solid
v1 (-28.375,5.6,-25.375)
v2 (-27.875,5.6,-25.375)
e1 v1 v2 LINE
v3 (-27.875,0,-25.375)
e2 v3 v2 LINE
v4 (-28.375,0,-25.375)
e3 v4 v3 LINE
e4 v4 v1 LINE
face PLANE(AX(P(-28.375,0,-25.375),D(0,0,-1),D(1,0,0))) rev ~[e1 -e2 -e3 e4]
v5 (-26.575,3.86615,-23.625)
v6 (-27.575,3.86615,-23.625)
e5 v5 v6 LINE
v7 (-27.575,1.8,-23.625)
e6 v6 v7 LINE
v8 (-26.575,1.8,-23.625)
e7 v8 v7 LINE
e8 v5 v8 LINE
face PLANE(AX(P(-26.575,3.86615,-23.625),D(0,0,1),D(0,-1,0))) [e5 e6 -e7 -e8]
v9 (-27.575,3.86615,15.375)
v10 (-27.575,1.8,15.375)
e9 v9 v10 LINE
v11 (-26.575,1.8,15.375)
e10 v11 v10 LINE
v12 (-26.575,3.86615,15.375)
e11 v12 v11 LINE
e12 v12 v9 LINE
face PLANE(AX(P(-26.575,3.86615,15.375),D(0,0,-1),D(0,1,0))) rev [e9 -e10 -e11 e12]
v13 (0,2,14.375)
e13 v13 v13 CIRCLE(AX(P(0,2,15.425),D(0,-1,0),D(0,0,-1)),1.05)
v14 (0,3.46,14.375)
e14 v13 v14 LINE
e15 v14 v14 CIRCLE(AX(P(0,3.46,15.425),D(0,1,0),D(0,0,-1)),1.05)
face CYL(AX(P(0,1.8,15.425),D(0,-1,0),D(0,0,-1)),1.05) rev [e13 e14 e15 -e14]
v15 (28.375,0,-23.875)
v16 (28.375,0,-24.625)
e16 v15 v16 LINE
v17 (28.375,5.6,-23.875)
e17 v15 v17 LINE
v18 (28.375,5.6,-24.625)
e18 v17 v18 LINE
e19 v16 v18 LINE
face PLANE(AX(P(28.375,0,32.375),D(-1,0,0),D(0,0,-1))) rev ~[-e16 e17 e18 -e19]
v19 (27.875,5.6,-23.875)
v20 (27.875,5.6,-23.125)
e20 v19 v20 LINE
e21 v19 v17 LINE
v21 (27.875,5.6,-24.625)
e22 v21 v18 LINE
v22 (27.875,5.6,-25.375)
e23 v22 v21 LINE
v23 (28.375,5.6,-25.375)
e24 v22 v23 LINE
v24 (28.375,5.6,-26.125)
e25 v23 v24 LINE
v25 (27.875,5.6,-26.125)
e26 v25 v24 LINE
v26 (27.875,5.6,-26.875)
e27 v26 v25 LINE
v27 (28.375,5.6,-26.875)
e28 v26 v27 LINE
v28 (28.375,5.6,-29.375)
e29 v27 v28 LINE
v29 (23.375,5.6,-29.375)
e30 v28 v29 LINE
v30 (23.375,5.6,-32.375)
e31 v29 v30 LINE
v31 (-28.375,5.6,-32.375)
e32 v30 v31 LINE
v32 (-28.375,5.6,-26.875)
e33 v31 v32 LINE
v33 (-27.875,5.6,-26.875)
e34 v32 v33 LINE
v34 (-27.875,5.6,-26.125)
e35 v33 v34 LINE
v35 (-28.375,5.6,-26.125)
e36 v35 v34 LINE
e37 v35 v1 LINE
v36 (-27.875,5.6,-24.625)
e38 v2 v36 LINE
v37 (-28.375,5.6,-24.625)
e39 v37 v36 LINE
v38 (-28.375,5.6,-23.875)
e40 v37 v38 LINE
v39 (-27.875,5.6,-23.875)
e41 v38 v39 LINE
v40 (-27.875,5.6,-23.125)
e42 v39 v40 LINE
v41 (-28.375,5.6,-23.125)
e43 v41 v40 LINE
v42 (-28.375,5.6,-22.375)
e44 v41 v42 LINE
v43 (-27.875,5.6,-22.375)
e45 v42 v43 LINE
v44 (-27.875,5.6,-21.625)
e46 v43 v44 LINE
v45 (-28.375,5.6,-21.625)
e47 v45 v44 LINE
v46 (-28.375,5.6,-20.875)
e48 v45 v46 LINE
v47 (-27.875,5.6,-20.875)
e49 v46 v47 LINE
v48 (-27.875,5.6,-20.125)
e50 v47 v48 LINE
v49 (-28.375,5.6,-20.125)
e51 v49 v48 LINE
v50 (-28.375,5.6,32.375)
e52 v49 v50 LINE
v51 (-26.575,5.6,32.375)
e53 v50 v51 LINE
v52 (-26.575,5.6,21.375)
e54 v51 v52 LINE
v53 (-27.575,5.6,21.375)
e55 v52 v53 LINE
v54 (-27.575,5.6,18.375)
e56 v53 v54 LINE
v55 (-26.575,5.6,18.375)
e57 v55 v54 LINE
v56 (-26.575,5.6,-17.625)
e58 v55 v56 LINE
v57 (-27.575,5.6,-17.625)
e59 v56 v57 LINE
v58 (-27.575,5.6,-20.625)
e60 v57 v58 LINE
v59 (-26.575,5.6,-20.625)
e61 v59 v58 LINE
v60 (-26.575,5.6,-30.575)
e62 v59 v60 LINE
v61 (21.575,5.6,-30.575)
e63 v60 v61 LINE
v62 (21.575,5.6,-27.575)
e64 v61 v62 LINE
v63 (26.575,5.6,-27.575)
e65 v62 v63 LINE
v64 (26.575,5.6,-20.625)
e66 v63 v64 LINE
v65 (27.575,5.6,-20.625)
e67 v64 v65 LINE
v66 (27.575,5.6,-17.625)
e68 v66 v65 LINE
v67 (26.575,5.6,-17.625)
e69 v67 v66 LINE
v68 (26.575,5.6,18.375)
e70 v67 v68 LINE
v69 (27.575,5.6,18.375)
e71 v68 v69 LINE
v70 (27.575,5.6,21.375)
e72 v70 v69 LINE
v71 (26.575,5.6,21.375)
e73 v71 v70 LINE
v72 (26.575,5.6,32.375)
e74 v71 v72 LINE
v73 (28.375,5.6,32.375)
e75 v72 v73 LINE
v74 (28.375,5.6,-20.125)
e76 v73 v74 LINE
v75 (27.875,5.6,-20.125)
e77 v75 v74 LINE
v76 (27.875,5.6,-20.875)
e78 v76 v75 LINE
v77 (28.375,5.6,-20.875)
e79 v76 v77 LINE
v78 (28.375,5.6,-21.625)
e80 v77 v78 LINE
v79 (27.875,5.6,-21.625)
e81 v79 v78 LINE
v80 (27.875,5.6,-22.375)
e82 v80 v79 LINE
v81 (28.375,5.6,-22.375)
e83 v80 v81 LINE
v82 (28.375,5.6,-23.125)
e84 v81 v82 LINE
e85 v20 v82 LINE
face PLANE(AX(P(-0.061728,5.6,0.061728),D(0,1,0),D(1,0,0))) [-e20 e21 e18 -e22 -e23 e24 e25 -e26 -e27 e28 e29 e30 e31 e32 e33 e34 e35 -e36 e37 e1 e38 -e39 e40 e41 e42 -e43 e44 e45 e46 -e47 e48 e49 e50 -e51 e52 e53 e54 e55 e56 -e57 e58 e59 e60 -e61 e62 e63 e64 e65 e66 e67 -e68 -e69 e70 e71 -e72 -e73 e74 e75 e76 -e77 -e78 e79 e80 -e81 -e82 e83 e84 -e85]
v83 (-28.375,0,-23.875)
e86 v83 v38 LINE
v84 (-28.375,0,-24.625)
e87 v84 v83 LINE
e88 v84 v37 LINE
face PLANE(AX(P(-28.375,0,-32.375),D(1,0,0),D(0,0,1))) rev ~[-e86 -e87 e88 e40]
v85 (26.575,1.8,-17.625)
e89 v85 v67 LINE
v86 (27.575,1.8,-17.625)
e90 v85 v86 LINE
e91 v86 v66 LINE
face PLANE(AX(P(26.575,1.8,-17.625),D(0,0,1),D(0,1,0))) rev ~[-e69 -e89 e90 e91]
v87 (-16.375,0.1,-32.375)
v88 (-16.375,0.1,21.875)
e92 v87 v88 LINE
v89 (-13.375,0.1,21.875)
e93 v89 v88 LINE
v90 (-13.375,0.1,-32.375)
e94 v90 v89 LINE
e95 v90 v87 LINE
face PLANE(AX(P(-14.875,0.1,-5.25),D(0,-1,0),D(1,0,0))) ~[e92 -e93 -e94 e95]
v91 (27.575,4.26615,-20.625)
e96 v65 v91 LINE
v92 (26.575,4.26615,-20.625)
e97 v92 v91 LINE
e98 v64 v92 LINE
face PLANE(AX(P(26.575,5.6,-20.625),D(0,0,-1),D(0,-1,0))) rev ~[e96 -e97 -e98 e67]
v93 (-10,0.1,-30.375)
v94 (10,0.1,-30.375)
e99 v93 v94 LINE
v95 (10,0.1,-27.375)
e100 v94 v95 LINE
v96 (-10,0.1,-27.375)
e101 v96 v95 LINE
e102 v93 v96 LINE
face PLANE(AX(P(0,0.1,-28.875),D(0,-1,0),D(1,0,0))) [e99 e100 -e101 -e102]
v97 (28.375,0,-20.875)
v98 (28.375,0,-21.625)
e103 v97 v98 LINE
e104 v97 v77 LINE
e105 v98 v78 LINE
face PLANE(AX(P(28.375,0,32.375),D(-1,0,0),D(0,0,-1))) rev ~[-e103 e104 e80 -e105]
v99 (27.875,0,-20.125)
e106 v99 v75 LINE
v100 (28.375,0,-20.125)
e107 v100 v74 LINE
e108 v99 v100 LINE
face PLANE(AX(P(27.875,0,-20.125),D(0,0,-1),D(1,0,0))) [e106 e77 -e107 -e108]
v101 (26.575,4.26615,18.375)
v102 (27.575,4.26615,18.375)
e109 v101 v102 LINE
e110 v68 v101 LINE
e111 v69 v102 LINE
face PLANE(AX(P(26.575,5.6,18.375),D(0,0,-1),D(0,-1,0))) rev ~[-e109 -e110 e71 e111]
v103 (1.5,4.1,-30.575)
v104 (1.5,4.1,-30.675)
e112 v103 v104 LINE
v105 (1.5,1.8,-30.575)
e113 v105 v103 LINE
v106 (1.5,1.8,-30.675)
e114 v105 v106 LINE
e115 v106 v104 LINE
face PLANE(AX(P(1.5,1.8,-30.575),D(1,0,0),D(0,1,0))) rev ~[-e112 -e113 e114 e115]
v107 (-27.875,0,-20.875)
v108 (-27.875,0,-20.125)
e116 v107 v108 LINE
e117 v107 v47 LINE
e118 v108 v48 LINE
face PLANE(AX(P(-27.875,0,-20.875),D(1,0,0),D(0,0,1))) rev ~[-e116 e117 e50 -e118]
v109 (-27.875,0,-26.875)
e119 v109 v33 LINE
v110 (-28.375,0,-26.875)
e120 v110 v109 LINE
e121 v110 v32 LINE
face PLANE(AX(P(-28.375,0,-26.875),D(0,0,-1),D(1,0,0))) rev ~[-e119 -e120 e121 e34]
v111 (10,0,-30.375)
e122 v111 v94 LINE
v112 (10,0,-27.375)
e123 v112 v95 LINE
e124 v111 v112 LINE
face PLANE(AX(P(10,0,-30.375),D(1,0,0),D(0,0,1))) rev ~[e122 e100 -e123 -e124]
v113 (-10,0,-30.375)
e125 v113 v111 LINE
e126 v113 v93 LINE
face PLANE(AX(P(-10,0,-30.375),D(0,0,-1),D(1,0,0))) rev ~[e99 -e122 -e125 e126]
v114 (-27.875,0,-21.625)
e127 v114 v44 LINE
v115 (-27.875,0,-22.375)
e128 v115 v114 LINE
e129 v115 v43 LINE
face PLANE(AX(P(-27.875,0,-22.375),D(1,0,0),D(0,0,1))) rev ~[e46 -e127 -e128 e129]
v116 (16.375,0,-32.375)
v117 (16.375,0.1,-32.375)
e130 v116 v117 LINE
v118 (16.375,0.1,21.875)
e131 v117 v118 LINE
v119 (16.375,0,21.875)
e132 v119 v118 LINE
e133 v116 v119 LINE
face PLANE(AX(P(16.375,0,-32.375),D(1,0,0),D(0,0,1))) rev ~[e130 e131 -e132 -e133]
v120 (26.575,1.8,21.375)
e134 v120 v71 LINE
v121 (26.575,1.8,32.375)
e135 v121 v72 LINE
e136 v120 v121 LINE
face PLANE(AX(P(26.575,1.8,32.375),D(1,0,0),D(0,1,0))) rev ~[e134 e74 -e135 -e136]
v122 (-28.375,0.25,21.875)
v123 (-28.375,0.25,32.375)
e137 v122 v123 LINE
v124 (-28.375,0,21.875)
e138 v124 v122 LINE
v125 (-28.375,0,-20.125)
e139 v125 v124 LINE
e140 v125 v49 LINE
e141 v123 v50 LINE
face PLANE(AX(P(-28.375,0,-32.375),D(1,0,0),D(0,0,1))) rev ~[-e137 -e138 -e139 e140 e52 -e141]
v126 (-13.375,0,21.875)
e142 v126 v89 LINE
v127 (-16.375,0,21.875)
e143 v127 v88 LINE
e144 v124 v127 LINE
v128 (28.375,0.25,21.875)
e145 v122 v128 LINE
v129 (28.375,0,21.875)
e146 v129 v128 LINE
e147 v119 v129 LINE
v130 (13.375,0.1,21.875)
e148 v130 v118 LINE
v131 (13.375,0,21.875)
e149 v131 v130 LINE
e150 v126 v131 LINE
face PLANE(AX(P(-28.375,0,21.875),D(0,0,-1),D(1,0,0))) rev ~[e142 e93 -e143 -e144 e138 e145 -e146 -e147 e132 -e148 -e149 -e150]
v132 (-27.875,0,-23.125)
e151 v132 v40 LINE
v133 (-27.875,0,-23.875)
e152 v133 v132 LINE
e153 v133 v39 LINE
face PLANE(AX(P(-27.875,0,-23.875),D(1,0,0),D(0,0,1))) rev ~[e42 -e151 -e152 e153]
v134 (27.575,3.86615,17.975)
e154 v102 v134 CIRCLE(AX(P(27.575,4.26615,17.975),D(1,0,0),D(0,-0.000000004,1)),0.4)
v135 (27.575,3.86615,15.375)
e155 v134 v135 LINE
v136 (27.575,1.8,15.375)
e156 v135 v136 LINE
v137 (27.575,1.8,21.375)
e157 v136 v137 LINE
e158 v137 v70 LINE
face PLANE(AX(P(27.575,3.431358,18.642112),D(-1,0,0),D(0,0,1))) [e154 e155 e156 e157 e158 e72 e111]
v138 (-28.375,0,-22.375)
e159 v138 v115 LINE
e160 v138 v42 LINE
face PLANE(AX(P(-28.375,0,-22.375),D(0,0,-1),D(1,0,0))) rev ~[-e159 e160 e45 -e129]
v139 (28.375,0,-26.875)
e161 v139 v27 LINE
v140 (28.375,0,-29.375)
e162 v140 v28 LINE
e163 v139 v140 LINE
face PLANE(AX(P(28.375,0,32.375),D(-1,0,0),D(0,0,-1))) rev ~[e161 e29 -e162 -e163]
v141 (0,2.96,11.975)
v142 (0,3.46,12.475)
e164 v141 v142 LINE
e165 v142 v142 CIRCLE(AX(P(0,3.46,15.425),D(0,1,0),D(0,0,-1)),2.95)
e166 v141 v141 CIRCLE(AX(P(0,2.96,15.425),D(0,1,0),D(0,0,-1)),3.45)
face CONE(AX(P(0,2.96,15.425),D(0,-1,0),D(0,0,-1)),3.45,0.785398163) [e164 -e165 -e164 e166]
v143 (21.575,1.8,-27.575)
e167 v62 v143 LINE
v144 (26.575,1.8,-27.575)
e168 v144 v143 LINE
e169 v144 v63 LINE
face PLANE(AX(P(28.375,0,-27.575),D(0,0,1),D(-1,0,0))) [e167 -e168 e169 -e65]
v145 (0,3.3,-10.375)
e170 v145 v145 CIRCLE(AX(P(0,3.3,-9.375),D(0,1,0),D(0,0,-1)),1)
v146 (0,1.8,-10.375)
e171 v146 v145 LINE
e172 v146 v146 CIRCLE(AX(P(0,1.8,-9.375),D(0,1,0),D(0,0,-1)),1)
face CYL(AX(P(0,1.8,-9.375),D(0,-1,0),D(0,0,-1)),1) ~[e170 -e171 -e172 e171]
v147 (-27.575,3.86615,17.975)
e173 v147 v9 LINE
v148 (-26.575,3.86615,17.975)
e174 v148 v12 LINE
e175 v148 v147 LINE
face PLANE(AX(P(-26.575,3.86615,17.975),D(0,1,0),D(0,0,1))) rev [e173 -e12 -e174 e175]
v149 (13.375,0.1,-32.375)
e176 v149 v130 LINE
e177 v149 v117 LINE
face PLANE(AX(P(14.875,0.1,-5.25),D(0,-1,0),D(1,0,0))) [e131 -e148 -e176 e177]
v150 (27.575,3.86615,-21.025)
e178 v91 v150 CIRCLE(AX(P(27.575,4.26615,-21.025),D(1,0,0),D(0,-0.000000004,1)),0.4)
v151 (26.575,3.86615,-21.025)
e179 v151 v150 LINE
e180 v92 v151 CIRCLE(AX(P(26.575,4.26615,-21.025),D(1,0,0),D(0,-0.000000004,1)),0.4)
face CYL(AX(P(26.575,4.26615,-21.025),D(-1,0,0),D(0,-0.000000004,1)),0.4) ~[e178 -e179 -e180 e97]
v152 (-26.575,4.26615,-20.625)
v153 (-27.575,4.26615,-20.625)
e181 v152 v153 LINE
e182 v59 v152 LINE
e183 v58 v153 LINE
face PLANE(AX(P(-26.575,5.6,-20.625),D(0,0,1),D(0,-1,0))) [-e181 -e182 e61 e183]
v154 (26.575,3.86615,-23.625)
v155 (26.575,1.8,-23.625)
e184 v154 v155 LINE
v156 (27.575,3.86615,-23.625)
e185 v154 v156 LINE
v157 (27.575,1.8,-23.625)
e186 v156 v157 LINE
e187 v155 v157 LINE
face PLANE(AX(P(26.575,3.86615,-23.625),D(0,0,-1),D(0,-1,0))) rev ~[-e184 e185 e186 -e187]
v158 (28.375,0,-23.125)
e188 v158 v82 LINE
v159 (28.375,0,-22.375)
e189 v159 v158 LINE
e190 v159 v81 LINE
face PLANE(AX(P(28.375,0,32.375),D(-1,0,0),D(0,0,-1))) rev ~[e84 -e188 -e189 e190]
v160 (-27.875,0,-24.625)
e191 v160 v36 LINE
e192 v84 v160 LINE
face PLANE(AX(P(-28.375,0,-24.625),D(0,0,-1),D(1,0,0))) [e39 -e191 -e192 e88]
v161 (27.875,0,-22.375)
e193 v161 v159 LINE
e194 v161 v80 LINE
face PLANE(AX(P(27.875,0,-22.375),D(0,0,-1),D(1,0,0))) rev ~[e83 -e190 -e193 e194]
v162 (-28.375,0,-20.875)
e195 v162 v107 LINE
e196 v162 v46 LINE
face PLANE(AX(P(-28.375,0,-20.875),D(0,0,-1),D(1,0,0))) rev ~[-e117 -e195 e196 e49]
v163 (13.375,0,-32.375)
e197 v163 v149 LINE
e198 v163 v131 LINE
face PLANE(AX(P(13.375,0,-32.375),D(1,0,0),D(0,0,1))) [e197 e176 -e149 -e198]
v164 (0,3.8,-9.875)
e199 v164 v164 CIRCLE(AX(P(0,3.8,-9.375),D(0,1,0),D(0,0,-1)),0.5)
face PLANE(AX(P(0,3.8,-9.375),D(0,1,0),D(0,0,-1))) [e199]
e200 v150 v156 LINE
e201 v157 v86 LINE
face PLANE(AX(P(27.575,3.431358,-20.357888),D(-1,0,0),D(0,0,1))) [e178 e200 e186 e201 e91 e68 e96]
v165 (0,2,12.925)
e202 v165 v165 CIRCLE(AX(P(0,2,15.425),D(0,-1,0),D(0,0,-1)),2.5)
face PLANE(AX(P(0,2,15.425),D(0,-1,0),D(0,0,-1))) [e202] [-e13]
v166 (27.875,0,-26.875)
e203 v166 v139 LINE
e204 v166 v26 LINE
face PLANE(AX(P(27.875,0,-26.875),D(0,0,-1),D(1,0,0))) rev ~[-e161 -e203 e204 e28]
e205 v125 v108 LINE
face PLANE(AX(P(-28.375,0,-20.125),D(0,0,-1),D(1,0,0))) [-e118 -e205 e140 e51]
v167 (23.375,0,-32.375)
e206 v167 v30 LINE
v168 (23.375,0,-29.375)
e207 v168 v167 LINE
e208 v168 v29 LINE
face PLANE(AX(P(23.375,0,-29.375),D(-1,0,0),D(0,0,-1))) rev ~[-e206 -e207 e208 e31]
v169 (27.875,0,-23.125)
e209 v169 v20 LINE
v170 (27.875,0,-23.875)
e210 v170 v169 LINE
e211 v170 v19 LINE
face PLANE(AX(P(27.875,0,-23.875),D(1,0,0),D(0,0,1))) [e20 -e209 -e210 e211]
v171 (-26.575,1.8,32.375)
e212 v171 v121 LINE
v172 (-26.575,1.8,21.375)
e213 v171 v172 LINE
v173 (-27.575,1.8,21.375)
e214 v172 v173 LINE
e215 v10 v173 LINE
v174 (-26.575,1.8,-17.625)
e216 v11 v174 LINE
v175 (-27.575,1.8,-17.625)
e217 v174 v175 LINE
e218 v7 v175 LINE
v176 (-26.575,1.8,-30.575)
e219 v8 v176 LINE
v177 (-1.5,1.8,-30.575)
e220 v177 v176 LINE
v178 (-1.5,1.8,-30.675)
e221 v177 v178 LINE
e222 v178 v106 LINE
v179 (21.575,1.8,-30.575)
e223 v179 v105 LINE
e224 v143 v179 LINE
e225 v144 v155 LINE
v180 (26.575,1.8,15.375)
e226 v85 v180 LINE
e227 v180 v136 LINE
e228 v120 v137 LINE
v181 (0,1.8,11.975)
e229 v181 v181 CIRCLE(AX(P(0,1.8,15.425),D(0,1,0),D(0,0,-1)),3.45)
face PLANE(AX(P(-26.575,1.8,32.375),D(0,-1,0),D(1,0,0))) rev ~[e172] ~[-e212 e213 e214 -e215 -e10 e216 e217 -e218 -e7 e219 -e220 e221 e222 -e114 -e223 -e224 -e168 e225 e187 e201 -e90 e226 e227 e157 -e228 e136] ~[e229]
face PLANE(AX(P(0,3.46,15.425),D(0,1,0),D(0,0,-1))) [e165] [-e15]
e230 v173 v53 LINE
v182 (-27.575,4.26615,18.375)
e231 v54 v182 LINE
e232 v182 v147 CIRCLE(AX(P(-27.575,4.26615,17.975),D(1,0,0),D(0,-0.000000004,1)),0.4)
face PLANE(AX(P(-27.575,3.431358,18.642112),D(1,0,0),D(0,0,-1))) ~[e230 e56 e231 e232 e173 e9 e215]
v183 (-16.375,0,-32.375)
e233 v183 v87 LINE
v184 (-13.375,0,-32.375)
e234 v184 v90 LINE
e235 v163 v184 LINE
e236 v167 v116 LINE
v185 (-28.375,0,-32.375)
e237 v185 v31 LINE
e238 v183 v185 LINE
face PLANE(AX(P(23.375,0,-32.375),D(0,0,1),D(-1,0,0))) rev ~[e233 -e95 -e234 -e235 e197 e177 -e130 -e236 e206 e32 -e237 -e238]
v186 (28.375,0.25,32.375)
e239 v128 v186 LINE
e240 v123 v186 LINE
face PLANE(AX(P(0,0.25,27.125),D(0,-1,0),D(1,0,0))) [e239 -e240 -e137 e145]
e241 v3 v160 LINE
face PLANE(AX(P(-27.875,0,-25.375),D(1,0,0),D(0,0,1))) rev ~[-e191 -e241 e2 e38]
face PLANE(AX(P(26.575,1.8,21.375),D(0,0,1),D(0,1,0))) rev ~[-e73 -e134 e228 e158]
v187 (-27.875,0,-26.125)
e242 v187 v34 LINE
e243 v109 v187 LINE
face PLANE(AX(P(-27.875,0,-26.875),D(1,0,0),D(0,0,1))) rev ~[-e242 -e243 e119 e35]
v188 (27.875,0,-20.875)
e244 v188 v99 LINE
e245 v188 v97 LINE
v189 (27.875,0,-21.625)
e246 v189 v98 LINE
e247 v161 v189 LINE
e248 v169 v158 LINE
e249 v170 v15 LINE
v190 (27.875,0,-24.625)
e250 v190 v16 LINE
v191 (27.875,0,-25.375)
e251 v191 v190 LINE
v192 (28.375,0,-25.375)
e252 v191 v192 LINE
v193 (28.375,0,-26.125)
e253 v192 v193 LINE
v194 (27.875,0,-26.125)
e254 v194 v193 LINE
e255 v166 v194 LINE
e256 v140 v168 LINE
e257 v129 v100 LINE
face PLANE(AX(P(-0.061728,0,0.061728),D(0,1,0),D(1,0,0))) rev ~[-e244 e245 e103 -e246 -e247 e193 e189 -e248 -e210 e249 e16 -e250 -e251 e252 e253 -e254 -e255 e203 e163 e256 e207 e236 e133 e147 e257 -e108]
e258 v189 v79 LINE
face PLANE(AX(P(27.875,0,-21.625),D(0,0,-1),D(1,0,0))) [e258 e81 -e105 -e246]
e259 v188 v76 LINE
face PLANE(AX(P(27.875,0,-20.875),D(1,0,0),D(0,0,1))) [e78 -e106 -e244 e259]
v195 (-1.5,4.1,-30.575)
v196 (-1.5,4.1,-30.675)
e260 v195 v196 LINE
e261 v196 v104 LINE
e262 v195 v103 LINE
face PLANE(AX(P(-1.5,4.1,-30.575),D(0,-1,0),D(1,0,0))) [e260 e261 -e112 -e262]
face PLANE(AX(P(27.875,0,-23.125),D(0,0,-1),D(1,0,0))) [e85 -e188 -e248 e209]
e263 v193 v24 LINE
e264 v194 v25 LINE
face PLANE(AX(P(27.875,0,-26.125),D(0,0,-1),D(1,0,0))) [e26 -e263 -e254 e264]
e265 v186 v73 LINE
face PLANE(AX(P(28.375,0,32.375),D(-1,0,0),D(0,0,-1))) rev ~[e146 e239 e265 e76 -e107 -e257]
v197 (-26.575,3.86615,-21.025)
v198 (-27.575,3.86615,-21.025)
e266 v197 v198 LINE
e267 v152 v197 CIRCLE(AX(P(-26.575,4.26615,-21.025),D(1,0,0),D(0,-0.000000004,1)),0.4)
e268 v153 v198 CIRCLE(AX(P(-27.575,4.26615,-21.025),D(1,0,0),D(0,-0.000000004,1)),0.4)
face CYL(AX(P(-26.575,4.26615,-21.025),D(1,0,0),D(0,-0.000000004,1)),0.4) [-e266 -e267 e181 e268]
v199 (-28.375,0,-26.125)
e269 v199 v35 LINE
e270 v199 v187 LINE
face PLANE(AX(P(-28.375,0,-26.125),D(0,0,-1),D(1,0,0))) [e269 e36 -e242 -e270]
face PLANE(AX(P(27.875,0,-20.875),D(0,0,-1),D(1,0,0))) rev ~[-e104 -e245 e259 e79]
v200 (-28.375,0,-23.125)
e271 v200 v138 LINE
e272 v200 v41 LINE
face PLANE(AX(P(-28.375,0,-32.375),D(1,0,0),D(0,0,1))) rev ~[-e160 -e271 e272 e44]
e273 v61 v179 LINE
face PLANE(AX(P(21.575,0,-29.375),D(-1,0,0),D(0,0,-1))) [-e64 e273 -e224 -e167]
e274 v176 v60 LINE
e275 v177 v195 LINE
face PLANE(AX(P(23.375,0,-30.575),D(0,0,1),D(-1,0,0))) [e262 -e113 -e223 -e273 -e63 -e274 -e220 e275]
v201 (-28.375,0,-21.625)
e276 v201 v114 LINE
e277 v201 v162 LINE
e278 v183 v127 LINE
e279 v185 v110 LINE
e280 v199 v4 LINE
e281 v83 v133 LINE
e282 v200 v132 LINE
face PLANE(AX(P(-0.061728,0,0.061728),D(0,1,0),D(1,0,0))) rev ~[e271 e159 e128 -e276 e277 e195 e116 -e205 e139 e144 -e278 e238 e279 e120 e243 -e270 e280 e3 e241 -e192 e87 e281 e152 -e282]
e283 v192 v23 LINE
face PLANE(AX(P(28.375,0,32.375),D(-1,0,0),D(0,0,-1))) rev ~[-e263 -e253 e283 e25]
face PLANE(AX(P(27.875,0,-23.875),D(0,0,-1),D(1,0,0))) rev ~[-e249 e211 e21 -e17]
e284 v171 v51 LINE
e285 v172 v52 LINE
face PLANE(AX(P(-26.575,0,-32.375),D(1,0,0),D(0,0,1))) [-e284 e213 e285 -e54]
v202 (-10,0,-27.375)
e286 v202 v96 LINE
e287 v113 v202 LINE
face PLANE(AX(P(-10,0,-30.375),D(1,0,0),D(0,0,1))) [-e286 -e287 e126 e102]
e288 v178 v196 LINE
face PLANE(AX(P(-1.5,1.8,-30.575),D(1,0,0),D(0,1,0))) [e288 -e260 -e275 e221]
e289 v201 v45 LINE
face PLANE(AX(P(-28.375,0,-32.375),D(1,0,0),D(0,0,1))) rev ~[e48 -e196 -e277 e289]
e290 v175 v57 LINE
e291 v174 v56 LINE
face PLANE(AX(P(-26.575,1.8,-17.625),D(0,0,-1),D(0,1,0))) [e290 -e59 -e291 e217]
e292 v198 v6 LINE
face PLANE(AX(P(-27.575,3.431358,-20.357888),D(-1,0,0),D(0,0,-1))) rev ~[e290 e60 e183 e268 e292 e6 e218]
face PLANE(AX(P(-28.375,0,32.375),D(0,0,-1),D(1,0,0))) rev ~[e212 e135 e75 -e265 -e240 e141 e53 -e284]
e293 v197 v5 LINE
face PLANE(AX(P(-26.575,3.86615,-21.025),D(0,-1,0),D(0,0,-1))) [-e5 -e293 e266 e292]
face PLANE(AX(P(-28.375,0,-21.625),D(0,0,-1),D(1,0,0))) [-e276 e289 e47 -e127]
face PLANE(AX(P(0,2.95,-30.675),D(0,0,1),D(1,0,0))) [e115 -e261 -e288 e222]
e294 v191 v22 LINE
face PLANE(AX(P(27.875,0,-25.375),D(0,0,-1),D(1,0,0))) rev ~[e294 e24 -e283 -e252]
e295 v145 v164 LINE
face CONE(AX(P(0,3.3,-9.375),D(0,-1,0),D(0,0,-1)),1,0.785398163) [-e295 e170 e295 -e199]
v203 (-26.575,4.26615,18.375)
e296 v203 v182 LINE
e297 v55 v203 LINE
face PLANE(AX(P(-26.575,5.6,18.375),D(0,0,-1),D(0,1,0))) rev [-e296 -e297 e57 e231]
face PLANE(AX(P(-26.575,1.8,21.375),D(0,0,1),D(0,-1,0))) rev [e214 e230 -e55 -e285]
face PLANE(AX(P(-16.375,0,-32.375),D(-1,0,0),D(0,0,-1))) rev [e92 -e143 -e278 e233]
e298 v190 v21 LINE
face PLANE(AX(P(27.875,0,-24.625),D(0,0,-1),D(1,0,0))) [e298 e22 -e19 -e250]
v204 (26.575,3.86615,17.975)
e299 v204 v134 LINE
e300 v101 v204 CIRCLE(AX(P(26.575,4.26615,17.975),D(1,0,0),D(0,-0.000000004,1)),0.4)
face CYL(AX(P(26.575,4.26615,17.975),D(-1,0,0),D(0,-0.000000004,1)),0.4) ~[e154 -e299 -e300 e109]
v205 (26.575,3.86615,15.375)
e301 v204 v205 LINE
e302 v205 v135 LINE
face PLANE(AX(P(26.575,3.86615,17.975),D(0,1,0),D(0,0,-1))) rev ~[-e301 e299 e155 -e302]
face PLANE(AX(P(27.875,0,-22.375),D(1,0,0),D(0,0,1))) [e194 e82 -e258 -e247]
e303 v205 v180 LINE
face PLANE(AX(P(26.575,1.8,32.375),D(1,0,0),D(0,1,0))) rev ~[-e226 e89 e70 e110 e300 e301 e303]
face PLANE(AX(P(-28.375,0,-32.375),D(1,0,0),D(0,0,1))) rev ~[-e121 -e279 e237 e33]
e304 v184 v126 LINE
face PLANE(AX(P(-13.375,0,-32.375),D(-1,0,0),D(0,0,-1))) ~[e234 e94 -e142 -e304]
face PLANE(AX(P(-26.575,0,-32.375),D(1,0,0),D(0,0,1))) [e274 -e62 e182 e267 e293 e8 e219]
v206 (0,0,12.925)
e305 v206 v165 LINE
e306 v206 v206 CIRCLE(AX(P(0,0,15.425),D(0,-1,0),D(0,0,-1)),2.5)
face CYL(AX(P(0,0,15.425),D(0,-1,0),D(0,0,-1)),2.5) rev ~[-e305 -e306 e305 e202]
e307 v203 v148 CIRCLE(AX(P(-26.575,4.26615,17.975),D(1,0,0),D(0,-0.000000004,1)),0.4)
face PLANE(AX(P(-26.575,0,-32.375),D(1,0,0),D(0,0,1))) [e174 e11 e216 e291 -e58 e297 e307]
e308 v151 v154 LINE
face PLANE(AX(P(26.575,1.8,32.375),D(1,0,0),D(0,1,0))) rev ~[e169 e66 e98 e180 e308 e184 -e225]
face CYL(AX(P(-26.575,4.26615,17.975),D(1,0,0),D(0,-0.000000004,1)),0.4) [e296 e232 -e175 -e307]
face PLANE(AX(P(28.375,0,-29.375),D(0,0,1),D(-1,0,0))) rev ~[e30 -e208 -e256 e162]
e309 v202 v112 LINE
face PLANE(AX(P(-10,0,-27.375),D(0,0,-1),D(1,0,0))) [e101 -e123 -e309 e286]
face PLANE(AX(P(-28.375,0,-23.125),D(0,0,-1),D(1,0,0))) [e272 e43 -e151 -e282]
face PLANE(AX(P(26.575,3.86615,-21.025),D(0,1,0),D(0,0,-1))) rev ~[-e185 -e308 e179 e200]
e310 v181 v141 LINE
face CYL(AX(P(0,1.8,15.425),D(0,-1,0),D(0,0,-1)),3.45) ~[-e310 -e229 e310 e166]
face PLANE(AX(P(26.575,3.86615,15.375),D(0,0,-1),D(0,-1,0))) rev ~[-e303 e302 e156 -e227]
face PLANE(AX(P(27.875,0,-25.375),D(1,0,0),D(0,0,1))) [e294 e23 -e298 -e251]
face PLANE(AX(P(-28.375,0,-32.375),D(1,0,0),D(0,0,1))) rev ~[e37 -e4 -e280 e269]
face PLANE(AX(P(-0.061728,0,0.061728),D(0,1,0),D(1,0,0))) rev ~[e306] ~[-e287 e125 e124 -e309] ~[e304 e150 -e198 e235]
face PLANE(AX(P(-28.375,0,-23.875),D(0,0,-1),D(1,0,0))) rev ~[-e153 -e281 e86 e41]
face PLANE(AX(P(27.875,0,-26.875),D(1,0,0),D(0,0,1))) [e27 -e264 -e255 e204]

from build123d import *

# Parameters (mm, degrees)
BOSS_EXTRUDE1_DEPTH  = 5.6
SHELL1_T             = -1.8
CUT_EXTRUDE1_REACH   = 72.916
SKETCH2_W            = 53.15
SKETCH2_H            = 3.8
SKETCH3_W            = 0.5
SKETCH3_H            = 0.75
CUT_EXTRUDE2_DEPTH   = 5.6
LPATTERN1_COUNT      = 5
LPATTERN1_PITCH      = 1.5
SKETCH4_R            = 3.45
SKETCH4_R_2          = 1.05
BOSS_EXTRUDE2_DEPTH  = 1.66
SKETCH5_R            = 1
BOSS_EXTRUDE3_DEPTH  = 2
CHAMFER1_SIZE        = 0.5
SKETCH6_R            = 2.5
CUT_EXTRUDE3_DEPTH   = 2
CUT_EXTRUDE4_DEPTH   = 1
LPATTERN2_COUNT      = 2
LPATTERN2_PITCH      = 39
MIRROR1_COPY_1_DEPTH = 1
SKETCH8_W            = 56.75
SKETCH8_H            = 10.5
CUT_EXTRUDE5_DEPTH   = 0.25
SKETCH9_W            = 3
SKETCH9_H            = 54.25
CUT_EXTRUDE6_DEPTH   = 0.1
SKETCH10_W           = 20
SKETCH10_H           = 3
CUT_EXTRUDE7_DEPTH   = 0.1
SKETCH11_W           = 3
SKETCH11_H           = 2.3
CUT_EXTRUDE8_DEPTH   = 0.1


with BuildPart() as part:
    # Sketch1 → Boss-Extrude1 (new body)
    with BuildSketch(Plane(origin=(0, 0, 0), x_dir=(1, 0, 0), z_dir=(0, 1, 0))):
        Polygon((23.375, 32.375), (-28.375, 32.375), (-28.375, -32.375), (28.375, -32.375), (28.375, 29.375), (23.375, 29.375), align=None)
    extrude(amount=BOSS_EXTRUDE1_DEPTH)

    # Shell1
    shell1_openings = [part.faces().sort_by_distance(p)[0] for p in [
        (-0.10605776, 5.6, 0.126552013),
    ]]
    offset(amount=SHELL1_T, openings=shell1_openings, kind=Kind.INTERSECTION)

    # Sketch2 → Cut-Extrude1 (cut, up to next)
    with BuildSketch(Plane.XY.offset(32.375), mode=Mode.PRIVATE) as cut_extrude1_sk1:
        with Locations((0, 3.7)):
            Rectangle(SKETCH2_W, SKETCH2_H)
    cut_extrude1_tool1 = extrude(cut_extrude1_sk1.sketch, amount=-CUT_EXTRUDE1_REACH, mode=Mode.PRIVATE) & part.part
    add(cut_extrude1_tool1.solids().sort_by_distance((0, 3.7, 32.375))[0], mode=Mode.SUBTRACT)

    # Sketch3 → Cut-Extrude2 (cut)
    with BuildSketch(Plane.XZ):
        with Locations((-28.125, -26.5)):
            Rectangle(SKETCH3_W, SKETCH3_H)
        with Locations((28.125, -26.5)):
            Rectangle(SKETCH3_W, SKETCH3_H)
    cut_extrude2 = extrude(amount=-CUT_EXTRUDE2_DEPTH, mode=Mode.SUBTRACT)

    # LPattern1: Cut-Extrude2 ×5
    with Locations(*[(0, 0, i * LPATTERN1_PITCH) for i in range(1, LPATTERN1_COUNT)]):
        add(cut_extrude2, mode=Mode.SUBTRACT)

    # Sketch4 → Boss-Extrude2 (add)
    with BuildSketch(Plane(origin=(0, 1.8, 0), x_dir=(1, 0, 0), z_dir=(0, 1, 0))):
        with Locations(Location((0, -15.425, 0), (0, 0, 90))):
            Circle(SKETCH4_R)
        with Locations(Location((0, -15.425, 0), (0, 0, 90))):
            Circle(SKETCH4_R_2, mode=Mode.SUBTRACT)
    extrude(amount=BOSS_EXTRUDE2_DEPTH)

    # Sketch5 → Boss-Extrude3 (add)
    with BuildSketch(Plane(origin=(0, 1.8, 0), x_dir=(1, 0, 0), z_dir=(0, 1, 0))):
        with Locations(Location((0, 9.375, 0), (0, 0, 90))):
            Circle(SKETCH5_R)
    extrude(amount=BOSS_EXTRUDE3_DEPTH)

    # Chamfer1
    chamfer1_edges = [part.edges().sort_by_distance(p)[0] for p in [
        (0, 3.46, 18.875),
        (0, 3.8, -8.375),
    ]]
    chamfer(chamfer1_edges, length=CHAMFER1_SIZE)

    # Sketch6 → Cut-Extrude3 (cut)
    with BuildSketch(Plane.XZ):
        with Locations(Location((0, 15.425, 0), (0, 0, 270))):
            Circle(SKETCH6_R)
    extrude(amount=-CUT_EXTRUDE3_DEPTH, mode=Mode.SUBTRACT)

    # Sketch7 → Cut-Extrude4 (cut)
    with BuildSketch(Plane.ZY.offset(-26.575)):
        with BuildLine():
            Line((15.375, 3.866149972), (15.375, 1.8))
            Line((15.375, 1.8), (21.375, 1.8))
            Line((21.375, 1.8), (21.375, 5.6))
            Line((21.375, 5.6), (18.375, 5.6))
            Line((18.375, 5.6), (18.375, 4.266149972))
            ThreePointArc((18.375, 4.266149972), (18.257842712, 3.98330726), (17.975, 3.866149972))
            Line((17.975, 3.866149972), (15.375, 3.866149972))
        make_face()
    cut_extrude4 = extrude(amount=-CUT_EXTRUDE4_DEPTH, mode=Mode.SUBTRACT)

    # LPattern2: Cut-Extrude4 ×2
    with Locations(*[(0, 0, -i * LPATTERN2_PITCH) for i in range(1, LPATTERN2_COUNT)]):
        add(cut_extrude4, mode=Mode.SUBTRACT)

    # Mirror1: Cut-Extrude4 across plane
    add(cut_extrude4.mirror(Plane(origin=(0, 0, 0), x_dir=(0, 0, 1), z_dir=(1, 0, 0))), mode=Mode.SUBTRACT)

    # Mirror1 copy 1 sketch → Mirror1 copy 1 (cut)
    with BuildSketch(Plane(origin=(-26.575, 0, -39), x_dir=(0, 0, 1), z_dir=(1, 0, 0))):
        with BuildLine():
            Line((15.375, -3.866149972), (15.375, -1.8))
            Line((15.375, -1.8), (21.375, -1.8))
            Line((21.375, -1.8), (21.375, -5.6))
            Line((21.375, -5.6), (18.375, -5.6))
            Line((18.375, -5.6), (18.375, -4.266149972))
            ThreePointArc((18.375, -4.266149972), (18.257842712, -3.98330726), (17.975, -3.866149972))
            Line((17.975, -3.866149972), (15.375, -3.866149972))
        make_face()
    extrude(amount=-MIRROR1_COPY_1_DEPTH, mode=Mode.SUBTRACT)

    # Sketch8 → Cut-Extrude5 (cut)
    with BuildSketch(Plane.XZ):
        with Locations((0, 27.125)):
            Rectangle(SKETCH8_W, SKETCH8_H)
    extrude(amount=-CUT_EXTRUDE5_DEPTH, mode=Mode.SUBTRACT)

    # Sketch9 → Cut-Extrude6 (cut)
    with BuildSketch(Plane.XZ):
        with Locations((14.875, -5.25)):
            Rectangle(SKETCH9_W, SKETCH9_H)
    cut_extrude6 = extrude(amount=-CUT_EXTRUDE6_DEPTH, mode=Mode.SUBTRACT)

    # Mirror2: Cut-Extrude6 across plane
    add(cut_extrude6.mirror(Plane(origin=(0, 0, 0), x_dir=(0, 0, 1), z_dir=(1, 0, 0))), mode=Mode.SUBTRACT)

    # Sketch10 → Cut-Extrude7 (cut)
    with BuildSketch(Plane.XZ):
        with Locations((0, -28.875)):
            Rectangle(SKETCH10_W, SKETCH10_H)
    extrude(amount=-CUT_EXTRUDE7_DEPTH, mode=Mode.SUBTRACT)

    # Sketch11 → Cut-Extrude8 (cut)
    with BuildSketch(Plane.XY.offset(-30.575)):
        with Locations((0, 2.95)):
            Rectangle(SKETCH11_W, SKETCH11_H)
    extrude(amount=-CUT_EXTRUDE8_DEPTH, mode=Mode.SUBTRACT)


solid = part.part
